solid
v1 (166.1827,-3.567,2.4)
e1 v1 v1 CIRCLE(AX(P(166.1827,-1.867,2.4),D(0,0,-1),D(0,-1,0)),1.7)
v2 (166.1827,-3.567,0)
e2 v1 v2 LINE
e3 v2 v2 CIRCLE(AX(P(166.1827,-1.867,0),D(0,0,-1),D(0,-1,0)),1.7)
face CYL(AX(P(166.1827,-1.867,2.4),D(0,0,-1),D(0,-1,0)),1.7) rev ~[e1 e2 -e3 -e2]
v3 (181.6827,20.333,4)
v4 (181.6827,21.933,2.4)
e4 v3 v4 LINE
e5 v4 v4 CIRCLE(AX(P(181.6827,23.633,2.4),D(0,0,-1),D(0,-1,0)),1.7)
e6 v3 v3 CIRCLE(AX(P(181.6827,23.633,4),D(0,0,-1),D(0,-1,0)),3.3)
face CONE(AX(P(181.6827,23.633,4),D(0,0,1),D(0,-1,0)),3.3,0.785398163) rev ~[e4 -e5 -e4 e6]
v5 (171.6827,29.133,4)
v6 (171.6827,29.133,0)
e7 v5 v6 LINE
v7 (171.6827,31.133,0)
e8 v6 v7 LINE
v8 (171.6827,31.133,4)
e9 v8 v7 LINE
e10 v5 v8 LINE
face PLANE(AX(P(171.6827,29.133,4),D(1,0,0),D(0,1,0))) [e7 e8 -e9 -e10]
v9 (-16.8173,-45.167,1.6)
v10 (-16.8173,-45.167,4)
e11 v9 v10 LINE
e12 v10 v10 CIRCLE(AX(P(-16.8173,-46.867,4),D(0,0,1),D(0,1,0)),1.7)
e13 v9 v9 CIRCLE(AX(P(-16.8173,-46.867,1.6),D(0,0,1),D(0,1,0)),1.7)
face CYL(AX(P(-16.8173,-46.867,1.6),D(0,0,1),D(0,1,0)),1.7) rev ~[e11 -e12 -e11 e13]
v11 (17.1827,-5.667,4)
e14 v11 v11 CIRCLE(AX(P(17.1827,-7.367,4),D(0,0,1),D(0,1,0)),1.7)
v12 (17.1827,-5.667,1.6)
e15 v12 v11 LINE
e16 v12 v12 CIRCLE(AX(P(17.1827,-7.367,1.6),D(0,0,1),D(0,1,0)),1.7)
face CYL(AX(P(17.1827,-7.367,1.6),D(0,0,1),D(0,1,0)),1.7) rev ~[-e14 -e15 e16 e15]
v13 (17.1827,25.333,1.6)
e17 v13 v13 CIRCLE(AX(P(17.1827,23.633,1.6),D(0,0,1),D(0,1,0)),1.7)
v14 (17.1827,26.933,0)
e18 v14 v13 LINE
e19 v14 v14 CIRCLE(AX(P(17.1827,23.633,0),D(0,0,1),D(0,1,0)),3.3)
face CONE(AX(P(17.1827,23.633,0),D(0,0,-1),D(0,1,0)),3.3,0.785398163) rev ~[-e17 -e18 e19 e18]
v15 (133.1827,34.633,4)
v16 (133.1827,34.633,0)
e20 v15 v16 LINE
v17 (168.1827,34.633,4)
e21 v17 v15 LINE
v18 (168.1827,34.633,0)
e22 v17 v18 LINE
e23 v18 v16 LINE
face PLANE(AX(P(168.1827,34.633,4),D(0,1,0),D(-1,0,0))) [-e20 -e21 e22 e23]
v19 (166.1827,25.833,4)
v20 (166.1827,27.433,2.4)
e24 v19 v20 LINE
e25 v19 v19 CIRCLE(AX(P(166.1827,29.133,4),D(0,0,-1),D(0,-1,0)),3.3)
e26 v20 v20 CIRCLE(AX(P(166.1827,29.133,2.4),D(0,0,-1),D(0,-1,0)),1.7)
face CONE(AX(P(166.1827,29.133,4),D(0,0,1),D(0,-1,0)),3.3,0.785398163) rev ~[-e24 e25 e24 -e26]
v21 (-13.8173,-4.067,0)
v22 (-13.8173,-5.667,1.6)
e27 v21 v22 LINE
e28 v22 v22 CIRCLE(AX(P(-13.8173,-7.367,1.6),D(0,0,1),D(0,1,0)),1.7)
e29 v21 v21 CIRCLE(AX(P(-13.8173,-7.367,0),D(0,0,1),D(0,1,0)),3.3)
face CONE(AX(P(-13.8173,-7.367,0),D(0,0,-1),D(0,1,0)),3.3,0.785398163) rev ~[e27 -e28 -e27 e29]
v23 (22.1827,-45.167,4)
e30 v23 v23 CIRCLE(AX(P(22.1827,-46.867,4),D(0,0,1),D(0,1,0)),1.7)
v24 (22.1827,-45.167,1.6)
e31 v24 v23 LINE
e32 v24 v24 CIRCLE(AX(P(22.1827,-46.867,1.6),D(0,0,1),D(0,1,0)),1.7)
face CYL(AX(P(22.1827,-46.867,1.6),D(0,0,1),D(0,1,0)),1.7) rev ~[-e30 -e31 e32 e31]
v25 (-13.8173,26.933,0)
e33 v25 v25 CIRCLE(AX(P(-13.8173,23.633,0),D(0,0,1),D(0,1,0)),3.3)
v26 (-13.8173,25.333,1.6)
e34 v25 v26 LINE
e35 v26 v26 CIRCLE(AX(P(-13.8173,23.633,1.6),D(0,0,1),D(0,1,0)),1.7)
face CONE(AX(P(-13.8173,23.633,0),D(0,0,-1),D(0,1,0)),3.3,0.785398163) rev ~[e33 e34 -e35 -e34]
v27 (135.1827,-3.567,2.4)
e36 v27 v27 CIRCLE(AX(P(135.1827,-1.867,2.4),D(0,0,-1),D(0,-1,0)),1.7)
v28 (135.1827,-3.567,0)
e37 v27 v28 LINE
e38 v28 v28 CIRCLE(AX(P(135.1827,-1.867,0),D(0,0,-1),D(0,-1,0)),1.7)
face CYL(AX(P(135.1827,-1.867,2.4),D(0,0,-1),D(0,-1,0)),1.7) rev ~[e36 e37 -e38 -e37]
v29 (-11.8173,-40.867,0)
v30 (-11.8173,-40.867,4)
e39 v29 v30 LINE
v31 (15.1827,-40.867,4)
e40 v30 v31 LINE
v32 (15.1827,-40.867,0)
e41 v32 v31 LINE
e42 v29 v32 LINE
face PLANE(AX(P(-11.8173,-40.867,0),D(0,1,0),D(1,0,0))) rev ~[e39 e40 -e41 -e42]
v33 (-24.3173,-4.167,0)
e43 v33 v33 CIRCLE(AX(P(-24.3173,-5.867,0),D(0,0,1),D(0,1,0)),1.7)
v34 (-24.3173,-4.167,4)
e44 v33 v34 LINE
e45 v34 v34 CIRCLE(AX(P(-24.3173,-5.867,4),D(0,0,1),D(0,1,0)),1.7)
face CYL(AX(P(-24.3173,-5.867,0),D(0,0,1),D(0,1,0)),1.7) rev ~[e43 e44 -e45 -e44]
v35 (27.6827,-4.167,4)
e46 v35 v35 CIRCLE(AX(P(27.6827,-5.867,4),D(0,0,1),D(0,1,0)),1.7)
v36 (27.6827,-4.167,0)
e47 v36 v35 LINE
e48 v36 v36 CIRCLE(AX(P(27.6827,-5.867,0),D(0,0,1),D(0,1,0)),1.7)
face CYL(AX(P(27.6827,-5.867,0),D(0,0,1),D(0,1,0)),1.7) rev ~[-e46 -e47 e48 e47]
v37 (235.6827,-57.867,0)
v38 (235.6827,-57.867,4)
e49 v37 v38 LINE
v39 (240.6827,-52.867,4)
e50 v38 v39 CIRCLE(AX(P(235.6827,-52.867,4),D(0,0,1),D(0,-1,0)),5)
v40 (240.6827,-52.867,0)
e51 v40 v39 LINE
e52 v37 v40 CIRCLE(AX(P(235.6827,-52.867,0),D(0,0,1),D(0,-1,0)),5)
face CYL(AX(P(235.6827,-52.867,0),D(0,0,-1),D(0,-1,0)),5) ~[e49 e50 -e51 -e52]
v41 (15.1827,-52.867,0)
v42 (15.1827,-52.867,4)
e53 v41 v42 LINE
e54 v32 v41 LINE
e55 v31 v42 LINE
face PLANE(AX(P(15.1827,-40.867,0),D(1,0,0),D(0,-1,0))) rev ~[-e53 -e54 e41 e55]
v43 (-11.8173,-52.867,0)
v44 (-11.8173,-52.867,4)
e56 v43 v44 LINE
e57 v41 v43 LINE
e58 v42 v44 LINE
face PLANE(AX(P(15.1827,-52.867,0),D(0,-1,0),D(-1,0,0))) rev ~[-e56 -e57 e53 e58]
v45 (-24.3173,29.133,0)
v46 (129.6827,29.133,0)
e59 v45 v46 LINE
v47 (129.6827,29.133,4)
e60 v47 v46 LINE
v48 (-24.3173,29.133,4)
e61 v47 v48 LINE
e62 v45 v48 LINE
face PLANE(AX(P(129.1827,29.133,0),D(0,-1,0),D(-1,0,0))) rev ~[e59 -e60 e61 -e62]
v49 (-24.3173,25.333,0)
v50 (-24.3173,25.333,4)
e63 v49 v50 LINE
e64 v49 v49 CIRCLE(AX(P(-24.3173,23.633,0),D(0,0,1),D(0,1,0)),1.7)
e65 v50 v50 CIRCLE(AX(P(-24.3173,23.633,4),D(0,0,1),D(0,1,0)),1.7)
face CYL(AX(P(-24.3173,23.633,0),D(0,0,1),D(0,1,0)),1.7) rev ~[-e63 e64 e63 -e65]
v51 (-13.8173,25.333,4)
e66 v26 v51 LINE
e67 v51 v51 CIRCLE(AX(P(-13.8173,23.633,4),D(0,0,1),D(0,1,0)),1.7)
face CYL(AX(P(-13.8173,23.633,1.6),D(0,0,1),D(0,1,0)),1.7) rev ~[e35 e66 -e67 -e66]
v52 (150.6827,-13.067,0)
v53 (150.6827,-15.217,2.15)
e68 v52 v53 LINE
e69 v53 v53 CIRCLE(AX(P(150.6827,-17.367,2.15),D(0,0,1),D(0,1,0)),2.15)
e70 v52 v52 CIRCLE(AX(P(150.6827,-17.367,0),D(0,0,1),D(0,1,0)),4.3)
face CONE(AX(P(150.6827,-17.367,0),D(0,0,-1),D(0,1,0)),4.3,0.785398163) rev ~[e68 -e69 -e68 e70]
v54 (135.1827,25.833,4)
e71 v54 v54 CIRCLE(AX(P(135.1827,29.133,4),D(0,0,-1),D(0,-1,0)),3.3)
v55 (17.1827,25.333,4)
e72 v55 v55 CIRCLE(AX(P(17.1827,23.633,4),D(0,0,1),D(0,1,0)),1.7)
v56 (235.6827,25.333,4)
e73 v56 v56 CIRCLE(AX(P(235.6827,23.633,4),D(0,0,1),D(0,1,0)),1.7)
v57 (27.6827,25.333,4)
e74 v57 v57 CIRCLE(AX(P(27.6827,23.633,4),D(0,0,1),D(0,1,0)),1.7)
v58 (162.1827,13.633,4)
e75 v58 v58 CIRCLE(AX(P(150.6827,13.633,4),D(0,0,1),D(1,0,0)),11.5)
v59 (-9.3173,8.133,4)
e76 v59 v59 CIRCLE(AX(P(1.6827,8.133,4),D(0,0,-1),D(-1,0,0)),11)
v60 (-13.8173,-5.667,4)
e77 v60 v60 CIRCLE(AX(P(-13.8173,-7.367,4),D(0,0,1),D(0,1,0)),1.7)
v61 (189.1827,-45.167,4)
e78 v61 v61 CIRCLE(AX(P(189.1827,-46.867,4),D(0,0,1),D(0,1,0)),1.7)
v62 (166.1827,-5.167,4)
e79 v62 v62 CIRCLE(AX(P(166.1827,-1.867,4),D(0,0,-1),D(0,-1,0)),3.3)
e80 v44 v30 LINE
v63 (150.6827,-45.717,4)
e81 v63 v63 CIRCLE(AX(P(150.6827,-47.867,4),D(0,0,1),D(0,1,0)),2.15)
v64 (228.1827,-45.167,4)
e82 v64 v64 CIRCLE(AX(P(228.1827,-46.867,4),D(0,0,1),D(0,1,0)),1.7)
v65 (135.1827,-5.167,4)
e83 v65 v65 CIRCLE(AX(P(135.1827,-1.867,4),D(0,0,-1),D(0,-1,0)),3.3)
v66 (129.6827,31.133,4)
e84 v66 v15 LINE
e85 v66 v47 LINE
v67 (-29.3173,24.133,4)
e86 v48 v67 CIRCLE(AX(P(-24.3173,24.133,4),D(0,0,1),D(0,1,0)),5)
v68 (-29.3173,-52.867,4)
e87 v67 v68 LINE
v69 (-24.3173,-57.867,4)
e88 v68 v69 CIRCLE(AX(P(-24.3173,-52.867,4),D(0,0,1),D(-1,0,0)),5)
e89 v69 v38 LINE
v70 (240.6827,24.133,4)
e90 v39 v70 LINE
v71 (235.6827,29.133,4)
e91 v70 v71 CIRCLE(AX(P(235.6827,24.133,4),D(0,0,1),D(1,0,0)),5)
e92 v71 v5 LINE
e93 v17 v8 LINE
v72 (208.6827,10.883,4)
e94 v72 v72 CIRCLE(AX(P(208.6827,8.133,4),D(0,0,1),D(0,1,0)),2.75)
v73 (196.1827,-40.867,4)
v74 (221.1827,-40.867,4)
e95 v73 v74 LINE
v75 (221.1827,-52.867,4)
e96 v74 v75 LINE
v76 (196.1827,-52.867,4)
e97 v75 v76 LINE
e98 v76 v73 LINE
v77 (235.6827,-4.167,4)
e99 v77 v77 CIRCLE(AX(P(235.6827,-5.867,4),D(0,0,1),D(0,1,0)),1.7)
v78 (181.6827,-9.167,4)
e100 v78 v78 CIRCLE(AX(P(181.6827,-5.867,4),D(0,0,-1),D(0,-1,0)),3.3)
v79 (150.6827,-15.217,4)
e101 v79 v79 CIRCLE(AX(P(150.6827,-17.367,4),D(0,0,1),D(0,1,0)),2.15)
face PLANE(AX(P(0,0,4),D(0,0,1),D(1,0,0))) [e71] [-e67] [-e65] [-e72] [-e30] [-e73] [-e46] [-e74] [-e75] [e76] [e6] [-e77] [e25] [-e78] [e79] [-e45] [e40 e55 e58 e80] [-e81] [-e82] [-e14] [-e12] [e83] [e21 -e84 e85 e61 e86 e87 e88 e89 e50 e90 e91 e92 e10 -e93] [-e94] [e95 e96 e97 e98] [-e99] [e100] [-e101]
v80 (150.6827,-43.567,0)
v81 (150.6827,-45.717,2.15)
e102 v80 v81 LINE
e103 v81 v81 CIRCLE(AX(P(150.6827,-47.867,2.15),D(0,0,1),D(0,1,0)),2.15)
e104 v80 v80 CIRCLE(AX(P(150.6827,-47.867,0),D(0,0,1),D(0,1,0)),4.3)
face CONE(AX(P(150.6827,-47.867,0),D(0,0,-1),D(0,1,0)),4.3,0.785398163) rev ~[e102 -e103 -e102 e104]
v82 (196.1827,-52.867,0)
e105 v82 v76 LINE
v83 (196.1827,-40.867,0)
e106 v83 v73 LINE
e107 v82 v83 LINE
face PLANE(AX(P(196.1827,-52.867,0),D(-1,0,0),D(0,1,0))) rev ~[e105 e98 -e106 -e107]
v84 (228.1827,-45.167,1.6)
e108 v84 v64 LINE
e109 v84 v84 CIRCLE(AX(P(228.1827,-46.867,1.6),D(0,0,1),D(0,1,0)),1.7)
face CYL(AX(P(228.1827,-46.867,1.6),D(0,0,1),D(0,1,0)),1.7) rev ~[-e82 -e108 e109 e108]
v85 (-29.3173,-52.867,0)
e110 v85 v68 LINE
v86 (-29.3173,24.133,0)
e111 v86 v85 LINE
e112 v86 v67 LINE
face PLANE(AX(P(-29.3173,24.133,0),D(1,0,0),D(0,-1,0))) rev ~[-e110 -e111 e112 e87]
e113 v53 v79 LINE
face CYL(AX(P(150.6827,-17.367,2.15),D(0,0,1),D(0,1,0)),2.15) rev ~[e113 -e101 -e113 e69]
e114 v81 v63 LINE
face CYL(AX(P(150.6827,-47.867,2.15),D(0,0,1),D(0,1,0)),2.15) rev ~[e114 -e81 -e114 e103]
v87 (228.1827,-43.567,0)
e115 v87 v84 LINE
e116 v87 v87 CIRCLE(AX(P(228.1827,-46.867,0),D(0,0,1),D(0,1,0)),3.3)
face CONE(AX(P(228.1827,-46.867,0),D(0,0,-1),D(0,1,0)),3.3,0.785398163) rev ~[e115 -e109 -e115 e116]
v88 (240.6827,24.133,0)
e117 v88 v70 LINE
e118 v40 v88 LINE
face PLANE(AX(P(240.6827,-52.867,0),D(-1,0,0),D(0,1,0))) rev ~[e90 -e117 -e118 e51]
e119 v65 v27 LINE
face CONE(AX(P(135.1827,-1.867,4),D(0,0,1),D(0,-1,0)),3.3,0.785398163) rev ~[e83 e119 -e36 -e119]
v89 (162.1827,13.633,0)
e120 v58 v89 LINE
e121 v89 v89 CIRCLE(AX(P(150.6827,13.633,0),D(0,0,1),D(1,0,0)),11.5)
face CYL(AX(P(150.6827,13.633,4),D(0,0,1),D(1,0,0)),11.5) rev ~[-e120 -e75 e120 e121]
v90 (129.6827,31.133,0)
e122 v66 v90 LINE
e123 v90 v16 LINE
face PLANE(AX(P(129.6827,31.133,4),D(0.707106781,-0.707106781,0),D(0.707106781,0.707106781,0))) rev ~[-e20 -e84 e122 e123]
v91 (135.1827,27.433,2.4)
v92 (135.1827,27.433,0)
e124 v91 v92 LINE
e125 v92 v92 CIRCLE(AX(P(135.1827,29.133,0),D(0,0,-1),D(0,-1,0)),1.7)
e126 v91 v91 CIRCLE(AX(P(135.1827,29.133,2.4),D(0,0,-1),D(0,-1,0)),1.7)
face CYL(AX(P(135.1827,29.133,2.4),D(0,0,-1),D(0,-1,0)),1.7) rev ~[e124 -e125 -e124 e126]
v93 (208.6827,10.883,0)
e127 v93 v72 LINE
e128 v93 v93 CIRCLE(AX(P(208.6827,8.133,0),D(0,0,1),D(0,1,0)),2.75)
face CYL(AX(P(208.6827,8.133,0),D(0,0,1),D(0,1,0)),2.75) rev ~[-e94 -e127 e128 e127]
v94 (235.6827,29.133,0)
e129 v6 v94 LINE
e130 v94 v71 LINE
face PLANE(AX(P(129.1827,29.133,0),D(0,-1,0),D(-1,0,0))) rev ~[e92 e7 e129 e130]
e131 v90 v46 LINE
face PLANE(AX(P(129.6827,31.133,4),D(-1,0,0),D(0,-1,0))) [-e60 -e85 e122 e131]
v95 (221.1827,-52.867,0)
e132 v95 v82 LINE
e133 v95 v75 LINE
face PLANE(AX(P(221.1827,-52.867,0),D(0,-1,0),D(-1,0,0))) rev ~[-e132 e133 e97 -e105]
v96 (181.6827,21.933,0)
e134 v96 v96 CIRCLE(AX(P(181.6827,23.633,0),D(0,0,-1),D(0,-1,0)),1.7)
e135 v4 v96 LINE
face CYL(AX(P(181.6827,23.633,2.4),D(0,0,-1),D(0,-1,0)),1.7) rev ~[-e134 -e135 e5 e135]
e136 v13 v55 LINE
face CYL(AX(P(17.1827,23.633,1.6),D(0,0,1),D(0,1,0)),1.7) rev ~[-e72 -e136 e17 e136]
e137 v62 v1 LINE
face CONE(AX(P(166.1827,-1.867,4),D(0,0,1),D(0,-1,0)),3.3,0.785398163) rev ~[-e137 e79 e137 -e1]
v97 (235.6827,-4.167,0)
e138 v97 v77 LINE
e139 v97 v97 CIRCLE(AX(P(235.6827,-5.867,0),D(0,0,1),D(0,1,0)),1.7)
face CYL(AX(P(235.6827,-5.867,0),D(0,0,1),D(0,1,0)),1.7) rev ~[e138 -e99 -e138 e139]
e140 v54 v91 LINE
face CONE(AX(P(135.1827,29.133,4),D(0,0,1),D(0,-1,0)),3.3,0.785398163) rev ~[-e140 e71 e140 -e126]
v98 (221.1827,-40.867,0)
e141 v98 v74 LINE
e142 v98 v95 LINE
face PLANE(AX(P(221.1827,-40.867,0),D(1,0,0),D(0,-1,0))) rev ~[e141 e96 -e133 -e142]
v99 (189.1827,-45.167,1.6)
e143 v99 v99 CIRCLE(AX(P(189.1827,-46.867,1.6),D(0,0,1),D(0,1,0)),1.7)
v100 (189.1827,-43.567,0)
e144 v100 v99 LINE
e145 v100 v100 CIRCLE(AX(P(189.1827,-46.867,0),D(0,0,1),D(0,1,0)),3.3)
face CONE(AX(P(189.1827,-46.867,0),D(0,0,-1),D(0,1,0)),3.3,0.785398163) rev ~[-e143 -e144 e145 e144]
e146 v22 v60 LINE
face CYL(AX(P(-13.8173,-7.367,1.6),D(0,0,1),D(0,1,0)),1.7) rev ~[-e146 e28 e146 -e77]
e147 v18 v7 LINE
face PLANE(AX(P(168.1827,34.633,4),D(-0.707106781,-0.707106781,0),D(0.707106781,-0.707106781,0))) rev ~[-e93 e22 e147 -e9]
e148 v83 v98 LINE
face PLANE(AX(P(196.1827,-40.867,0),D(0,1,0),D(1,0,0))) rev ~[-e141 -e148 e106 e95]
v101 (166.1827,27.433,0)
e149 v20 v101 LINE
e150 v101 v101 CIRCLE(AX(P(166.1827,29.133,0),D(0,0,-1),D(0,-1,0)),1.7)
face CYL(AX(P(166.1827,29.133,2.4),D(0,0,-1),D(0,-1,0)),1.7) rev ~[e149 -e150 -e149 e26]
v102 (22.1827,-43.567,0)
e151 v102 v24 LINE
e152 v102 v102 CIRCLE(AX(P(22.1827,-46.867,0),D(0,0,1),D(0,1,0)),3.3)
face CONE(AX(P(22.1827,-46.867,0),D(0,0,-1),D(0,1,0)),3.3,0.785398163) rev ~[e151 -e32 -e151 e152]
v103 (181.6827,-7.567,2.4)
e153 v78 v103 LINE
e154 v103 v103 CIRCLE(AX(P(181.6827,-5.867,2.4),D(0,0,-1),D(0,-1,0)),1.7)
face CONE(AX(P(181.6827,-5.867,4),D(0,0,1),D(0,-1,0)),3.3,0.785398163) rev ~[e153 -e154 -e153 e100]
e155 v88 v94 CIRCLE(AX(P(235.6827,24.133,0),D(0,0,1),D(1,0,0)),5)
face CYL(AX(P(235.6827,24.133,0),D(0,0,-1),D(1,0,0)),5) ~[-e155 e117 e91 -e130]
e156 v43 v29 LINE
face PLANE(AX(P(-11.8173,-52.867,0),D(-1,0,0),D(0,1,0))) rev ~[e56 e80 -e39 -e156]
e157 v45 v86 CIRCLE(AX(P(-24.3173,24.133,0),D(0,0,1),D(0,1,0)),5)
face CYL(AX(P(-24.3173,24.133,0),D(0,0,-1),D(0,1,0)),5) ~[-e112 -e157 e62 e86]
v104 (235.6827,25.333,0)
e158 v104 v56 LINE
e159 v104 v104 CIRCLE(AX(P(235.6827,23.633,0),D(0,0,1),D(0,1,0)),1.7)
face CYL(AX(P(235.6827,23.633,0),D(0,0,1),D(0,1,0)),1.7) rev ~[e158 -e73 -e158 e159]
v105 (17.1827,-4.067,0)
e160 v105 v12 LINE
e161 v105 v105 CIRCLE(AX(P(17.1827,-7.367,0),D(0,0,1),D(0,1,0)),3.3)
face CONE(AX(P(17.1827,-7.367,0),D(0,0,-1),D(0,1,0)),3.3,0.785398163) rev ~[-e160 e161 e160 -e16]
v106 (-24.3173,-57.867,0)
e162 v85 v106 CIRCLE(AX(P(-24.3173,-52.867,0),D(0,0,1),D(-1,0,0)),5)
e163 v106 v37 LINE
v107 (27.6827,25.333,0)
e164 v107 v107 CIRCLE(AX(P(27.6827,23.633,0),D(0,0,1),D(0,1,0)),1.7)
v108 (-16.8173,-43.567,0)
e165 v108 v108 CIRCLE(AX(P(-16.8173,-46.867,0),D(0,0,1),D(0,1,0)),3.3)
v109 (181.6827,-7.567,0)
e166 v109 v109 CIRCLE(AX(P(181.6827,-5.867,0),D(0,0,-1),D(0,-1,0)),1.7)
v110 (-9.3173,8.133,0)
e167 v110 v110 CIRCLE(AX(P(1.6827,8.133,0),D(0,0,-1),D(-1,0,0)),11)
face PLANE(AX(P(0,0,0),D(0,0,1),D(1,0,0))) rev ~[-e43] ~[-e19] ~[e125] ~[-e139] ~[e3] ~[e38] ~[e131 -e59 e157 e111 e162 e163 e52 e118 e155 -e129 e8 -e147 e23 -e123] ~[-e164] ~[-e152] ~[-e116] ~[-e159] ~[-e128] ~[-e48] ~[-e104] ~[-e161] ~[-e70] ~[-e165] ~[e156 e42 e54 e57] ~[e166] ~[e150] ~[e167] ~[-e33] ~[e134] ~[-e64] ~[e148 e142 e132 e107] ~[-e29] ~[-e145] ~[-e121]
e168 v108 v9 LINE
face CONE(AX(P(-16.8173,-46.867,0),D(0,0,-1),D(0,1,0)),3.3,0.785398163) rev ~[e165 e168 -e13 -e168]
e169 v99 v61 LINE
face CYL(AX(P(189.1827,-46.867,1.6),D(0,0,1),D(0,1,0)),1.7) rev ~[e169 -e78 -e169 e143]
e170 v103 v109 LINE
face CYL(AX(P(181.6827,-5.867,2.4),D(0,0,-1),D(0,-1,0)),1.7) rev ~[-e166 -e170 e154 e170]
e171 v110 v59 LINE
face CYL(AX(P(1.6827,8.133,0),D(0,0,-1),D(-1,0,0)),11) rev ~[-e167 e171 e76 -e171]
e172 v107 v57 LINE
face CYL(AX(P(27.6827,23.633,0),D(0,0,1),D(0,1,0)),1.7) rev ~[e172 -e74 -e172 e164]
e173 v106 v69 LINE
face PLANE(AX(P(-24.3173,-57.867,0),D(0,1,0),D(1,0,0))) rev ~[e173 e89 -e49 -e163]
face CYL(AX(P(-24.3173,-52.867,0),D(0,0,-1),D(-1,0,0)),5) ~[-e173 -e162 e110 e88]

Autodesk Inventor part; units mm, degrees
ref_plane "YZ Plane" through (0, 0, 0) normal (1, 0, 0) x (0, 1, 0)
ref_plane "XZ Plane" through (0, 0, 0) normal (0, 1, 0) x (-1, 0, 0)
ref_plane "XY Plane" through (0, 0, 0) normal (0, 0, 1) x (1, 0, 0)
sketch "Sketch1" plane through (0, 0, 0) normal (0, 0, 1) x (1, 0, 0)
  arc A0 (235.6827, -57.867) -> (240.6827, -52.867) centre (235.6827, -52.867) ccw projected
  line L0 (240.6827, -52.867) -> (240.6827, 24.133) projected
  arc A1 (240.6827, 24.133) -> (235.6827, 29.133) centre (235.6827, 24.133) ccw projected
  line L1 (235.6827, 29.133) -> (-24.3173, 29.133) projected
  arc A2 (-24.3173, 29.133) -> (-29.3173, 24.133) centre (-24.3173, 24.133) ccw projected
  line L2 (-29.3173, 24.133) -> (-29.3173, -52.867) projected
  arc A3 (-29.3173, -52.867) -> (-24.3173, -57.867) centre (-24.3173, -52.867) ccw projected
  line L3 (-24.3173, -57.867) -> (235.6827, -57.867) projected
  circle A4 centre (235.6827, 23.633) radius 1.7 projected
  circle A5 centre (235.6827, -5.867) radius 1.7 projected
  circle A6 centre (-24.3173, -5.867) radius 1.7 projected
  circle A7 centre (-24.3173, 23.633) radius 1.7 projected
  circle A8 centre (208.6827, 8.133) radius 2.75 projected
  circle A9 centre (228.1827, -46.867) radius 3.3 projected
  circle A10 centre (189.1827, -46.867) radius 3.3 projected
  circle A11 centre (22.1827, -46.867) radius 3.3 projected
  circle A12 centre (-16.8173, -46.867) radius 3.3 projected
  circle A13 centre (235.6827, -5.867) radius 1.7 projected
  circle A14 centre (235.6827, 23.633) radius 1.7 projected
  circle A15 centre (-24.3173, 23.633) radius 1.7 projected
  circle A16 centre (-24.3173, -5.867) radius 1.7 projected
  arc A17 (235.6827, -57.867) -> (240.6827, -52.867) centre (235.6827, -52.867) ccw projected
  line L4 (240.6827, -52.867) -> (240.6827, 24.133) projected
  arc A18 (240.6827, 24.133) -> (235.6827, 29.133) centre (235.6827, 24.133) ccw projected
  line L5 (235.6827, 29.133) -> (172.1827, 29.133) projected
  arc A19 (-24.3173, 29.133) -> (-29.3173, 24.133) centre (-24.3173, 24.133) ccw projected
  line L6 (-29.3173, 24.133) -> (-29.3173, -52.867) projected
  arc A20 (-29.3173, -52.867) -> (-24.3173, -57.867) centre (-24.3173, -52.867) ccw projected
  line L7 (-24.3173, -57.867) -> (235.6827, -57.867) projected
  circle A21 centre (208.6827, 8.133) radius 2.75 projected
  line L8 (221.1827, -40.867) -> (221.1827, -52.867) projected
  line L9 (221.1827, -52.867) -> (196.1827, -52.867) projected
  line L10 (196.1827, -52.867) -> (196.1827, -40.867) projected
  line L11 (196.1827, -40.867) -> (221.1827, -40.867) projected
  line L12 (-11.8173, -52.867) -> (-11.8173, -40.867) projected
  line L13 (-11.8173, -40.867) -> (15.1827, -40.867) projected
  line L14 (15.1827, -40.867) -> (15.1827, -52.867) projected
  line L15 (15.1827, -52.867) -> (-11.8173, -52.867) projected
  circle A22 centre (27.6827, -5.867) radius 1.7 projected
  circle A23 centre (27.6827, 23.633) radius 1.7 projected
  line L16 (172.1827, 29.133) -> (172.1827, -4.0741) projected
  line L17 (172.1827, -4.0741) -> (168.3898, -7.867) projected
  line L18 (168.3898, -7.867) -> (132.9756, -7.867) projected
  line L19 (132.9756, -7.867) -> (129.1827, -4.0741) projected
  line L20 (129.1827, -4.0741) -> (129.1827, 29.133) projected
  line L21 (129.1827, 29.133) -> (-24.3173, 29.133) projected
  circle A24 centre (181.6827, -5.867) radius 1.7 projected
  circle A25 centre (181.6827, 23.633) radius 1.7 projected
  circle A26 centre (1.6827, 8.133) radius 2.75 projected
extrude "Extrusion1" add sketch "Sketch1" along normal blind 4 contours L3 A3 L2 A2 L1 L20 L19 L18 L17 L16 A1 L0 A0 | L16 L17 L18 L19 L20 L1 | A4 | A5 | A6 | A7 | A8 | A9 | A10 | A11 | A12 | A22 | A23 | A24 | A25 | A26
hole "Hole1" at (-24.3173, -5.867, 0) at (-24.3173, 23.633, 0) at (235.6827, 23.633, 0) at (235.6827, -5.867, 0) at (27.6827, 23.633, 0) at (27.6827, -5.867, 0) direction (0, 0, 1) diameter 3.4 end through all clearance for "Countersunk Head GOST 12876-67" size "M3" standard "GOST"
hole "Hole2" at (208.6827, 8.133, 0) direction (0, 0, 1) diameter 5.5 end through all clearance for "Countersunk Head GOST 12876-67" size "M5" standard "GOST"
hole "Hole3" at (-16.8173, -46.867, 0) at (22.1827, -46.867, 0) at (189.1827, -46.867, 0) at (228.1827, -46.867, 0) direction (0, 0, 1) diameter 3.4 end through all countersink diameter 6.6 countersink angle 90 clearance for "Countersunk Head GOST 12876-67" size "M3" standard "GOST"
sketch "Sketch2" plane through (0, 0, 4) normal (0, 0, 1) x (1, 0, 0)
  circle A0 centre (166.1827, -1.867) radius 1.7 projected
  circle A1 centre (166.1827, 29.133) radius 1.7 projected
  circle A2 centre (135.1827, 29.133) radius 1.7 projected
  circle A3 centre (135.1827, -1.867) radius 1.7 projected
  circle A4 centre (150.6827, 13.633) radius 11 projected
  line L0 (168.1827, 34.633) -> (171.6827, 31.133) projected
  line L1 (168.1827, 34.633) -> (133.1827, 34.633) projected
  line L2 (129.6827, 31.133) -> (133.1827, 34.633) projected
  line L3 (129.6827, 31.133) -> (129.6827, -3.867) projected
  line L4 (133.1827, -7.367) -> (129.6827, -3.867) projected
  line L5 (133.1827, -7.367) -> (168.1827, -7.367) projected
  line L6 (171.6827, -3.867) -> (168.1827, -7.367) projected
  line L7 (171.6827, -3.867) -> (171.6827, 31.133) projected
  circle A5 centre (150.6827, 13.633) radius 11.5
  line L8 (150.6827, -7.367) -> (150.6827, -57.867)
  line L9 (-24.3173, -57.867) -> (235.6827, -57.867) projected
  line L10 (150.6827, -32.617) -> (163.331, -32.617) construction
  circle A6 centre (181.6827, 23.633) radius 1.7
  circle A7 centre (181.6827, -5.867) radius 1.7
  point P0 (0, 0)
  point P1 (150.6827, -17.367)
  point P2 (150.6827, -47.867)
  dimension "d23" = 0.5
  dimension "d35" = 10
extrude "Extrusion2" cut sketch "Sketch2" against normal through all contours A4 | A5
sketch "Sketch3" plane through (0, 0, 4) normal (0, 0, 1) x (1, 0, 0)
  circle A0 centre (166.1827, -1.867) radius 1.7 projected
  circle A1 centre (166.1827, 29.133) radius 1.7 projected
  circle A2 centre (135.1827, 29.133) radius 1.7 projected
  circle A3 centre (135.1827, -1.867) radius 1.7 projected
  circle A4 centre (150.6827, 13.633) radius 11 projected
  line L0 (168.1827, 34.633) -> (171.6827, 31.133) projected
  line L1 (168.1827, 34.633) -> (133.1827, 34.633) projected
  line L2 (129.6827, 31.133) -> (133.1827, 34.633) projected
  line L3 (129.6827, 31.133) -> (129.6827, -3.867) projected
  line L4 (133.1827, -7.367) -> (129.6827, -3.867) projected
  line L5 (133.1827, -7.367) -> (168.1827, -7.367) projected
  line L6 (171.6827, -3.867) -> (168.1827, -7.367) projected
  line L7 (171.6827, -3.867) -> (171.6827, 31.133) projected
  line L8 (235.6827, 29.133) -> (-24.3173, 29.133) projected
  point P0 (0, 0)
  point P1 (129.6827, 29.133)
  point P2 (171.6827, 29.133)
extrude "Extrusion3" add sketch "Sketch3" against normal blind 4 contours L8 A1 | A1 L8 A2 L3 L2 L1 L0 L7 | L8 A2 picked at (166.251, 30.4471) picked at (135.251, 30.4471)
hole "Hole4" at (135.1827, -1.867, 4) at (135.1827, 29.133, 4) at (166.1827, 29.133, 4) at (166.1827, -1.867, 4) direction (0, 0, -1) diameter 3.4 end through all countersink diameter 6.6 countersink angle 90 clearance for "Countersunk Head GOST 12876-67" size "M3" standard "GOST"
sketch "Sketch4" plane through (0, 0, 0) normal (0, 0, -1) x (-1, 0, 0)
  point P0 (0, 0)
  point P1 (-150.6827, -17.367)
  point P2 (-150.6827, -47.867)
hole "Hole5" at (150.6827, -17.367, 0) at (150.6827, -47.867, 0) direction (0, 0, 1) diameter 4.3 end through all countersink diameter 8.6 countersink angle 90 clearance for "Countersunk Head GOST 12876-67" size "M4" standard "GOST"
hole "Hole6" at (181.6827, 23.633, 4) at (181.6827, -5.867, 4) direction (0, 0, -1) diameter 3.4 end through all countersink diameter 6.6 countersink angle 90 clearance for "Countersunk Head GOST 12876-67" size "M3" standard "GOST"
sketch "Sketch5" plane through (0, 0, 0) normal (0, 0, -1) x (-1, 0, 0)
  circle A0 centre (-17.1827, -7.367) radius 1.7 projected
  circle A1 centre (-17.1827, 23.633) radius 1.7 projected
  circle A2 centre (13.8173, 23.633) radius 1.7 projected
  circle A3 centre (13.8173, -7.367) radius 1.7 projected
  circle A4 centre (-1.6827, 8.133) radius 11 projected
  line L0 (-19.1827, 29.133) -> (-22.6827, 25.633) projected
  line L1 (-19.1827, 29.133) -> (15.8173, 29.133) projected
  line L2 (19.3173, 25.633) -> (15.8173, 29.133) projected
  line L3 (19.3173, 25.633) -> (19.3173, -9.367) projected
  line L4 (15.8173, -12.867) -> (19.3173, -9.367) projected
  line L5 (15.8173, -12.867) -> (-19.1827, -12.867) projected
  line L6 (-22.6827, -9.367) -> (-19.1827, -12.867) projected
  line L7 (-22.6827, -9.367) -> (-22.6827, 25.633) projected
  point P0 (0, 0)
extrude "Extrusion4" cut sketch "Sketch5" against normal through all contours A4
hole "Hole7" at (17.1827, -7.367, 0) at (17.1827, 23.633, 0) at (-13.8173, 23.633, 0) at (-13.8173, -7.367, 0) direction (0, 0, 1) diameter 3.4 depth 8 countersink diameter 6.6 countersink angle 90 clearance for "Countersunk Head GOST 12876-67" size "M3" standard "GOST"
properties part number "plate_2"
